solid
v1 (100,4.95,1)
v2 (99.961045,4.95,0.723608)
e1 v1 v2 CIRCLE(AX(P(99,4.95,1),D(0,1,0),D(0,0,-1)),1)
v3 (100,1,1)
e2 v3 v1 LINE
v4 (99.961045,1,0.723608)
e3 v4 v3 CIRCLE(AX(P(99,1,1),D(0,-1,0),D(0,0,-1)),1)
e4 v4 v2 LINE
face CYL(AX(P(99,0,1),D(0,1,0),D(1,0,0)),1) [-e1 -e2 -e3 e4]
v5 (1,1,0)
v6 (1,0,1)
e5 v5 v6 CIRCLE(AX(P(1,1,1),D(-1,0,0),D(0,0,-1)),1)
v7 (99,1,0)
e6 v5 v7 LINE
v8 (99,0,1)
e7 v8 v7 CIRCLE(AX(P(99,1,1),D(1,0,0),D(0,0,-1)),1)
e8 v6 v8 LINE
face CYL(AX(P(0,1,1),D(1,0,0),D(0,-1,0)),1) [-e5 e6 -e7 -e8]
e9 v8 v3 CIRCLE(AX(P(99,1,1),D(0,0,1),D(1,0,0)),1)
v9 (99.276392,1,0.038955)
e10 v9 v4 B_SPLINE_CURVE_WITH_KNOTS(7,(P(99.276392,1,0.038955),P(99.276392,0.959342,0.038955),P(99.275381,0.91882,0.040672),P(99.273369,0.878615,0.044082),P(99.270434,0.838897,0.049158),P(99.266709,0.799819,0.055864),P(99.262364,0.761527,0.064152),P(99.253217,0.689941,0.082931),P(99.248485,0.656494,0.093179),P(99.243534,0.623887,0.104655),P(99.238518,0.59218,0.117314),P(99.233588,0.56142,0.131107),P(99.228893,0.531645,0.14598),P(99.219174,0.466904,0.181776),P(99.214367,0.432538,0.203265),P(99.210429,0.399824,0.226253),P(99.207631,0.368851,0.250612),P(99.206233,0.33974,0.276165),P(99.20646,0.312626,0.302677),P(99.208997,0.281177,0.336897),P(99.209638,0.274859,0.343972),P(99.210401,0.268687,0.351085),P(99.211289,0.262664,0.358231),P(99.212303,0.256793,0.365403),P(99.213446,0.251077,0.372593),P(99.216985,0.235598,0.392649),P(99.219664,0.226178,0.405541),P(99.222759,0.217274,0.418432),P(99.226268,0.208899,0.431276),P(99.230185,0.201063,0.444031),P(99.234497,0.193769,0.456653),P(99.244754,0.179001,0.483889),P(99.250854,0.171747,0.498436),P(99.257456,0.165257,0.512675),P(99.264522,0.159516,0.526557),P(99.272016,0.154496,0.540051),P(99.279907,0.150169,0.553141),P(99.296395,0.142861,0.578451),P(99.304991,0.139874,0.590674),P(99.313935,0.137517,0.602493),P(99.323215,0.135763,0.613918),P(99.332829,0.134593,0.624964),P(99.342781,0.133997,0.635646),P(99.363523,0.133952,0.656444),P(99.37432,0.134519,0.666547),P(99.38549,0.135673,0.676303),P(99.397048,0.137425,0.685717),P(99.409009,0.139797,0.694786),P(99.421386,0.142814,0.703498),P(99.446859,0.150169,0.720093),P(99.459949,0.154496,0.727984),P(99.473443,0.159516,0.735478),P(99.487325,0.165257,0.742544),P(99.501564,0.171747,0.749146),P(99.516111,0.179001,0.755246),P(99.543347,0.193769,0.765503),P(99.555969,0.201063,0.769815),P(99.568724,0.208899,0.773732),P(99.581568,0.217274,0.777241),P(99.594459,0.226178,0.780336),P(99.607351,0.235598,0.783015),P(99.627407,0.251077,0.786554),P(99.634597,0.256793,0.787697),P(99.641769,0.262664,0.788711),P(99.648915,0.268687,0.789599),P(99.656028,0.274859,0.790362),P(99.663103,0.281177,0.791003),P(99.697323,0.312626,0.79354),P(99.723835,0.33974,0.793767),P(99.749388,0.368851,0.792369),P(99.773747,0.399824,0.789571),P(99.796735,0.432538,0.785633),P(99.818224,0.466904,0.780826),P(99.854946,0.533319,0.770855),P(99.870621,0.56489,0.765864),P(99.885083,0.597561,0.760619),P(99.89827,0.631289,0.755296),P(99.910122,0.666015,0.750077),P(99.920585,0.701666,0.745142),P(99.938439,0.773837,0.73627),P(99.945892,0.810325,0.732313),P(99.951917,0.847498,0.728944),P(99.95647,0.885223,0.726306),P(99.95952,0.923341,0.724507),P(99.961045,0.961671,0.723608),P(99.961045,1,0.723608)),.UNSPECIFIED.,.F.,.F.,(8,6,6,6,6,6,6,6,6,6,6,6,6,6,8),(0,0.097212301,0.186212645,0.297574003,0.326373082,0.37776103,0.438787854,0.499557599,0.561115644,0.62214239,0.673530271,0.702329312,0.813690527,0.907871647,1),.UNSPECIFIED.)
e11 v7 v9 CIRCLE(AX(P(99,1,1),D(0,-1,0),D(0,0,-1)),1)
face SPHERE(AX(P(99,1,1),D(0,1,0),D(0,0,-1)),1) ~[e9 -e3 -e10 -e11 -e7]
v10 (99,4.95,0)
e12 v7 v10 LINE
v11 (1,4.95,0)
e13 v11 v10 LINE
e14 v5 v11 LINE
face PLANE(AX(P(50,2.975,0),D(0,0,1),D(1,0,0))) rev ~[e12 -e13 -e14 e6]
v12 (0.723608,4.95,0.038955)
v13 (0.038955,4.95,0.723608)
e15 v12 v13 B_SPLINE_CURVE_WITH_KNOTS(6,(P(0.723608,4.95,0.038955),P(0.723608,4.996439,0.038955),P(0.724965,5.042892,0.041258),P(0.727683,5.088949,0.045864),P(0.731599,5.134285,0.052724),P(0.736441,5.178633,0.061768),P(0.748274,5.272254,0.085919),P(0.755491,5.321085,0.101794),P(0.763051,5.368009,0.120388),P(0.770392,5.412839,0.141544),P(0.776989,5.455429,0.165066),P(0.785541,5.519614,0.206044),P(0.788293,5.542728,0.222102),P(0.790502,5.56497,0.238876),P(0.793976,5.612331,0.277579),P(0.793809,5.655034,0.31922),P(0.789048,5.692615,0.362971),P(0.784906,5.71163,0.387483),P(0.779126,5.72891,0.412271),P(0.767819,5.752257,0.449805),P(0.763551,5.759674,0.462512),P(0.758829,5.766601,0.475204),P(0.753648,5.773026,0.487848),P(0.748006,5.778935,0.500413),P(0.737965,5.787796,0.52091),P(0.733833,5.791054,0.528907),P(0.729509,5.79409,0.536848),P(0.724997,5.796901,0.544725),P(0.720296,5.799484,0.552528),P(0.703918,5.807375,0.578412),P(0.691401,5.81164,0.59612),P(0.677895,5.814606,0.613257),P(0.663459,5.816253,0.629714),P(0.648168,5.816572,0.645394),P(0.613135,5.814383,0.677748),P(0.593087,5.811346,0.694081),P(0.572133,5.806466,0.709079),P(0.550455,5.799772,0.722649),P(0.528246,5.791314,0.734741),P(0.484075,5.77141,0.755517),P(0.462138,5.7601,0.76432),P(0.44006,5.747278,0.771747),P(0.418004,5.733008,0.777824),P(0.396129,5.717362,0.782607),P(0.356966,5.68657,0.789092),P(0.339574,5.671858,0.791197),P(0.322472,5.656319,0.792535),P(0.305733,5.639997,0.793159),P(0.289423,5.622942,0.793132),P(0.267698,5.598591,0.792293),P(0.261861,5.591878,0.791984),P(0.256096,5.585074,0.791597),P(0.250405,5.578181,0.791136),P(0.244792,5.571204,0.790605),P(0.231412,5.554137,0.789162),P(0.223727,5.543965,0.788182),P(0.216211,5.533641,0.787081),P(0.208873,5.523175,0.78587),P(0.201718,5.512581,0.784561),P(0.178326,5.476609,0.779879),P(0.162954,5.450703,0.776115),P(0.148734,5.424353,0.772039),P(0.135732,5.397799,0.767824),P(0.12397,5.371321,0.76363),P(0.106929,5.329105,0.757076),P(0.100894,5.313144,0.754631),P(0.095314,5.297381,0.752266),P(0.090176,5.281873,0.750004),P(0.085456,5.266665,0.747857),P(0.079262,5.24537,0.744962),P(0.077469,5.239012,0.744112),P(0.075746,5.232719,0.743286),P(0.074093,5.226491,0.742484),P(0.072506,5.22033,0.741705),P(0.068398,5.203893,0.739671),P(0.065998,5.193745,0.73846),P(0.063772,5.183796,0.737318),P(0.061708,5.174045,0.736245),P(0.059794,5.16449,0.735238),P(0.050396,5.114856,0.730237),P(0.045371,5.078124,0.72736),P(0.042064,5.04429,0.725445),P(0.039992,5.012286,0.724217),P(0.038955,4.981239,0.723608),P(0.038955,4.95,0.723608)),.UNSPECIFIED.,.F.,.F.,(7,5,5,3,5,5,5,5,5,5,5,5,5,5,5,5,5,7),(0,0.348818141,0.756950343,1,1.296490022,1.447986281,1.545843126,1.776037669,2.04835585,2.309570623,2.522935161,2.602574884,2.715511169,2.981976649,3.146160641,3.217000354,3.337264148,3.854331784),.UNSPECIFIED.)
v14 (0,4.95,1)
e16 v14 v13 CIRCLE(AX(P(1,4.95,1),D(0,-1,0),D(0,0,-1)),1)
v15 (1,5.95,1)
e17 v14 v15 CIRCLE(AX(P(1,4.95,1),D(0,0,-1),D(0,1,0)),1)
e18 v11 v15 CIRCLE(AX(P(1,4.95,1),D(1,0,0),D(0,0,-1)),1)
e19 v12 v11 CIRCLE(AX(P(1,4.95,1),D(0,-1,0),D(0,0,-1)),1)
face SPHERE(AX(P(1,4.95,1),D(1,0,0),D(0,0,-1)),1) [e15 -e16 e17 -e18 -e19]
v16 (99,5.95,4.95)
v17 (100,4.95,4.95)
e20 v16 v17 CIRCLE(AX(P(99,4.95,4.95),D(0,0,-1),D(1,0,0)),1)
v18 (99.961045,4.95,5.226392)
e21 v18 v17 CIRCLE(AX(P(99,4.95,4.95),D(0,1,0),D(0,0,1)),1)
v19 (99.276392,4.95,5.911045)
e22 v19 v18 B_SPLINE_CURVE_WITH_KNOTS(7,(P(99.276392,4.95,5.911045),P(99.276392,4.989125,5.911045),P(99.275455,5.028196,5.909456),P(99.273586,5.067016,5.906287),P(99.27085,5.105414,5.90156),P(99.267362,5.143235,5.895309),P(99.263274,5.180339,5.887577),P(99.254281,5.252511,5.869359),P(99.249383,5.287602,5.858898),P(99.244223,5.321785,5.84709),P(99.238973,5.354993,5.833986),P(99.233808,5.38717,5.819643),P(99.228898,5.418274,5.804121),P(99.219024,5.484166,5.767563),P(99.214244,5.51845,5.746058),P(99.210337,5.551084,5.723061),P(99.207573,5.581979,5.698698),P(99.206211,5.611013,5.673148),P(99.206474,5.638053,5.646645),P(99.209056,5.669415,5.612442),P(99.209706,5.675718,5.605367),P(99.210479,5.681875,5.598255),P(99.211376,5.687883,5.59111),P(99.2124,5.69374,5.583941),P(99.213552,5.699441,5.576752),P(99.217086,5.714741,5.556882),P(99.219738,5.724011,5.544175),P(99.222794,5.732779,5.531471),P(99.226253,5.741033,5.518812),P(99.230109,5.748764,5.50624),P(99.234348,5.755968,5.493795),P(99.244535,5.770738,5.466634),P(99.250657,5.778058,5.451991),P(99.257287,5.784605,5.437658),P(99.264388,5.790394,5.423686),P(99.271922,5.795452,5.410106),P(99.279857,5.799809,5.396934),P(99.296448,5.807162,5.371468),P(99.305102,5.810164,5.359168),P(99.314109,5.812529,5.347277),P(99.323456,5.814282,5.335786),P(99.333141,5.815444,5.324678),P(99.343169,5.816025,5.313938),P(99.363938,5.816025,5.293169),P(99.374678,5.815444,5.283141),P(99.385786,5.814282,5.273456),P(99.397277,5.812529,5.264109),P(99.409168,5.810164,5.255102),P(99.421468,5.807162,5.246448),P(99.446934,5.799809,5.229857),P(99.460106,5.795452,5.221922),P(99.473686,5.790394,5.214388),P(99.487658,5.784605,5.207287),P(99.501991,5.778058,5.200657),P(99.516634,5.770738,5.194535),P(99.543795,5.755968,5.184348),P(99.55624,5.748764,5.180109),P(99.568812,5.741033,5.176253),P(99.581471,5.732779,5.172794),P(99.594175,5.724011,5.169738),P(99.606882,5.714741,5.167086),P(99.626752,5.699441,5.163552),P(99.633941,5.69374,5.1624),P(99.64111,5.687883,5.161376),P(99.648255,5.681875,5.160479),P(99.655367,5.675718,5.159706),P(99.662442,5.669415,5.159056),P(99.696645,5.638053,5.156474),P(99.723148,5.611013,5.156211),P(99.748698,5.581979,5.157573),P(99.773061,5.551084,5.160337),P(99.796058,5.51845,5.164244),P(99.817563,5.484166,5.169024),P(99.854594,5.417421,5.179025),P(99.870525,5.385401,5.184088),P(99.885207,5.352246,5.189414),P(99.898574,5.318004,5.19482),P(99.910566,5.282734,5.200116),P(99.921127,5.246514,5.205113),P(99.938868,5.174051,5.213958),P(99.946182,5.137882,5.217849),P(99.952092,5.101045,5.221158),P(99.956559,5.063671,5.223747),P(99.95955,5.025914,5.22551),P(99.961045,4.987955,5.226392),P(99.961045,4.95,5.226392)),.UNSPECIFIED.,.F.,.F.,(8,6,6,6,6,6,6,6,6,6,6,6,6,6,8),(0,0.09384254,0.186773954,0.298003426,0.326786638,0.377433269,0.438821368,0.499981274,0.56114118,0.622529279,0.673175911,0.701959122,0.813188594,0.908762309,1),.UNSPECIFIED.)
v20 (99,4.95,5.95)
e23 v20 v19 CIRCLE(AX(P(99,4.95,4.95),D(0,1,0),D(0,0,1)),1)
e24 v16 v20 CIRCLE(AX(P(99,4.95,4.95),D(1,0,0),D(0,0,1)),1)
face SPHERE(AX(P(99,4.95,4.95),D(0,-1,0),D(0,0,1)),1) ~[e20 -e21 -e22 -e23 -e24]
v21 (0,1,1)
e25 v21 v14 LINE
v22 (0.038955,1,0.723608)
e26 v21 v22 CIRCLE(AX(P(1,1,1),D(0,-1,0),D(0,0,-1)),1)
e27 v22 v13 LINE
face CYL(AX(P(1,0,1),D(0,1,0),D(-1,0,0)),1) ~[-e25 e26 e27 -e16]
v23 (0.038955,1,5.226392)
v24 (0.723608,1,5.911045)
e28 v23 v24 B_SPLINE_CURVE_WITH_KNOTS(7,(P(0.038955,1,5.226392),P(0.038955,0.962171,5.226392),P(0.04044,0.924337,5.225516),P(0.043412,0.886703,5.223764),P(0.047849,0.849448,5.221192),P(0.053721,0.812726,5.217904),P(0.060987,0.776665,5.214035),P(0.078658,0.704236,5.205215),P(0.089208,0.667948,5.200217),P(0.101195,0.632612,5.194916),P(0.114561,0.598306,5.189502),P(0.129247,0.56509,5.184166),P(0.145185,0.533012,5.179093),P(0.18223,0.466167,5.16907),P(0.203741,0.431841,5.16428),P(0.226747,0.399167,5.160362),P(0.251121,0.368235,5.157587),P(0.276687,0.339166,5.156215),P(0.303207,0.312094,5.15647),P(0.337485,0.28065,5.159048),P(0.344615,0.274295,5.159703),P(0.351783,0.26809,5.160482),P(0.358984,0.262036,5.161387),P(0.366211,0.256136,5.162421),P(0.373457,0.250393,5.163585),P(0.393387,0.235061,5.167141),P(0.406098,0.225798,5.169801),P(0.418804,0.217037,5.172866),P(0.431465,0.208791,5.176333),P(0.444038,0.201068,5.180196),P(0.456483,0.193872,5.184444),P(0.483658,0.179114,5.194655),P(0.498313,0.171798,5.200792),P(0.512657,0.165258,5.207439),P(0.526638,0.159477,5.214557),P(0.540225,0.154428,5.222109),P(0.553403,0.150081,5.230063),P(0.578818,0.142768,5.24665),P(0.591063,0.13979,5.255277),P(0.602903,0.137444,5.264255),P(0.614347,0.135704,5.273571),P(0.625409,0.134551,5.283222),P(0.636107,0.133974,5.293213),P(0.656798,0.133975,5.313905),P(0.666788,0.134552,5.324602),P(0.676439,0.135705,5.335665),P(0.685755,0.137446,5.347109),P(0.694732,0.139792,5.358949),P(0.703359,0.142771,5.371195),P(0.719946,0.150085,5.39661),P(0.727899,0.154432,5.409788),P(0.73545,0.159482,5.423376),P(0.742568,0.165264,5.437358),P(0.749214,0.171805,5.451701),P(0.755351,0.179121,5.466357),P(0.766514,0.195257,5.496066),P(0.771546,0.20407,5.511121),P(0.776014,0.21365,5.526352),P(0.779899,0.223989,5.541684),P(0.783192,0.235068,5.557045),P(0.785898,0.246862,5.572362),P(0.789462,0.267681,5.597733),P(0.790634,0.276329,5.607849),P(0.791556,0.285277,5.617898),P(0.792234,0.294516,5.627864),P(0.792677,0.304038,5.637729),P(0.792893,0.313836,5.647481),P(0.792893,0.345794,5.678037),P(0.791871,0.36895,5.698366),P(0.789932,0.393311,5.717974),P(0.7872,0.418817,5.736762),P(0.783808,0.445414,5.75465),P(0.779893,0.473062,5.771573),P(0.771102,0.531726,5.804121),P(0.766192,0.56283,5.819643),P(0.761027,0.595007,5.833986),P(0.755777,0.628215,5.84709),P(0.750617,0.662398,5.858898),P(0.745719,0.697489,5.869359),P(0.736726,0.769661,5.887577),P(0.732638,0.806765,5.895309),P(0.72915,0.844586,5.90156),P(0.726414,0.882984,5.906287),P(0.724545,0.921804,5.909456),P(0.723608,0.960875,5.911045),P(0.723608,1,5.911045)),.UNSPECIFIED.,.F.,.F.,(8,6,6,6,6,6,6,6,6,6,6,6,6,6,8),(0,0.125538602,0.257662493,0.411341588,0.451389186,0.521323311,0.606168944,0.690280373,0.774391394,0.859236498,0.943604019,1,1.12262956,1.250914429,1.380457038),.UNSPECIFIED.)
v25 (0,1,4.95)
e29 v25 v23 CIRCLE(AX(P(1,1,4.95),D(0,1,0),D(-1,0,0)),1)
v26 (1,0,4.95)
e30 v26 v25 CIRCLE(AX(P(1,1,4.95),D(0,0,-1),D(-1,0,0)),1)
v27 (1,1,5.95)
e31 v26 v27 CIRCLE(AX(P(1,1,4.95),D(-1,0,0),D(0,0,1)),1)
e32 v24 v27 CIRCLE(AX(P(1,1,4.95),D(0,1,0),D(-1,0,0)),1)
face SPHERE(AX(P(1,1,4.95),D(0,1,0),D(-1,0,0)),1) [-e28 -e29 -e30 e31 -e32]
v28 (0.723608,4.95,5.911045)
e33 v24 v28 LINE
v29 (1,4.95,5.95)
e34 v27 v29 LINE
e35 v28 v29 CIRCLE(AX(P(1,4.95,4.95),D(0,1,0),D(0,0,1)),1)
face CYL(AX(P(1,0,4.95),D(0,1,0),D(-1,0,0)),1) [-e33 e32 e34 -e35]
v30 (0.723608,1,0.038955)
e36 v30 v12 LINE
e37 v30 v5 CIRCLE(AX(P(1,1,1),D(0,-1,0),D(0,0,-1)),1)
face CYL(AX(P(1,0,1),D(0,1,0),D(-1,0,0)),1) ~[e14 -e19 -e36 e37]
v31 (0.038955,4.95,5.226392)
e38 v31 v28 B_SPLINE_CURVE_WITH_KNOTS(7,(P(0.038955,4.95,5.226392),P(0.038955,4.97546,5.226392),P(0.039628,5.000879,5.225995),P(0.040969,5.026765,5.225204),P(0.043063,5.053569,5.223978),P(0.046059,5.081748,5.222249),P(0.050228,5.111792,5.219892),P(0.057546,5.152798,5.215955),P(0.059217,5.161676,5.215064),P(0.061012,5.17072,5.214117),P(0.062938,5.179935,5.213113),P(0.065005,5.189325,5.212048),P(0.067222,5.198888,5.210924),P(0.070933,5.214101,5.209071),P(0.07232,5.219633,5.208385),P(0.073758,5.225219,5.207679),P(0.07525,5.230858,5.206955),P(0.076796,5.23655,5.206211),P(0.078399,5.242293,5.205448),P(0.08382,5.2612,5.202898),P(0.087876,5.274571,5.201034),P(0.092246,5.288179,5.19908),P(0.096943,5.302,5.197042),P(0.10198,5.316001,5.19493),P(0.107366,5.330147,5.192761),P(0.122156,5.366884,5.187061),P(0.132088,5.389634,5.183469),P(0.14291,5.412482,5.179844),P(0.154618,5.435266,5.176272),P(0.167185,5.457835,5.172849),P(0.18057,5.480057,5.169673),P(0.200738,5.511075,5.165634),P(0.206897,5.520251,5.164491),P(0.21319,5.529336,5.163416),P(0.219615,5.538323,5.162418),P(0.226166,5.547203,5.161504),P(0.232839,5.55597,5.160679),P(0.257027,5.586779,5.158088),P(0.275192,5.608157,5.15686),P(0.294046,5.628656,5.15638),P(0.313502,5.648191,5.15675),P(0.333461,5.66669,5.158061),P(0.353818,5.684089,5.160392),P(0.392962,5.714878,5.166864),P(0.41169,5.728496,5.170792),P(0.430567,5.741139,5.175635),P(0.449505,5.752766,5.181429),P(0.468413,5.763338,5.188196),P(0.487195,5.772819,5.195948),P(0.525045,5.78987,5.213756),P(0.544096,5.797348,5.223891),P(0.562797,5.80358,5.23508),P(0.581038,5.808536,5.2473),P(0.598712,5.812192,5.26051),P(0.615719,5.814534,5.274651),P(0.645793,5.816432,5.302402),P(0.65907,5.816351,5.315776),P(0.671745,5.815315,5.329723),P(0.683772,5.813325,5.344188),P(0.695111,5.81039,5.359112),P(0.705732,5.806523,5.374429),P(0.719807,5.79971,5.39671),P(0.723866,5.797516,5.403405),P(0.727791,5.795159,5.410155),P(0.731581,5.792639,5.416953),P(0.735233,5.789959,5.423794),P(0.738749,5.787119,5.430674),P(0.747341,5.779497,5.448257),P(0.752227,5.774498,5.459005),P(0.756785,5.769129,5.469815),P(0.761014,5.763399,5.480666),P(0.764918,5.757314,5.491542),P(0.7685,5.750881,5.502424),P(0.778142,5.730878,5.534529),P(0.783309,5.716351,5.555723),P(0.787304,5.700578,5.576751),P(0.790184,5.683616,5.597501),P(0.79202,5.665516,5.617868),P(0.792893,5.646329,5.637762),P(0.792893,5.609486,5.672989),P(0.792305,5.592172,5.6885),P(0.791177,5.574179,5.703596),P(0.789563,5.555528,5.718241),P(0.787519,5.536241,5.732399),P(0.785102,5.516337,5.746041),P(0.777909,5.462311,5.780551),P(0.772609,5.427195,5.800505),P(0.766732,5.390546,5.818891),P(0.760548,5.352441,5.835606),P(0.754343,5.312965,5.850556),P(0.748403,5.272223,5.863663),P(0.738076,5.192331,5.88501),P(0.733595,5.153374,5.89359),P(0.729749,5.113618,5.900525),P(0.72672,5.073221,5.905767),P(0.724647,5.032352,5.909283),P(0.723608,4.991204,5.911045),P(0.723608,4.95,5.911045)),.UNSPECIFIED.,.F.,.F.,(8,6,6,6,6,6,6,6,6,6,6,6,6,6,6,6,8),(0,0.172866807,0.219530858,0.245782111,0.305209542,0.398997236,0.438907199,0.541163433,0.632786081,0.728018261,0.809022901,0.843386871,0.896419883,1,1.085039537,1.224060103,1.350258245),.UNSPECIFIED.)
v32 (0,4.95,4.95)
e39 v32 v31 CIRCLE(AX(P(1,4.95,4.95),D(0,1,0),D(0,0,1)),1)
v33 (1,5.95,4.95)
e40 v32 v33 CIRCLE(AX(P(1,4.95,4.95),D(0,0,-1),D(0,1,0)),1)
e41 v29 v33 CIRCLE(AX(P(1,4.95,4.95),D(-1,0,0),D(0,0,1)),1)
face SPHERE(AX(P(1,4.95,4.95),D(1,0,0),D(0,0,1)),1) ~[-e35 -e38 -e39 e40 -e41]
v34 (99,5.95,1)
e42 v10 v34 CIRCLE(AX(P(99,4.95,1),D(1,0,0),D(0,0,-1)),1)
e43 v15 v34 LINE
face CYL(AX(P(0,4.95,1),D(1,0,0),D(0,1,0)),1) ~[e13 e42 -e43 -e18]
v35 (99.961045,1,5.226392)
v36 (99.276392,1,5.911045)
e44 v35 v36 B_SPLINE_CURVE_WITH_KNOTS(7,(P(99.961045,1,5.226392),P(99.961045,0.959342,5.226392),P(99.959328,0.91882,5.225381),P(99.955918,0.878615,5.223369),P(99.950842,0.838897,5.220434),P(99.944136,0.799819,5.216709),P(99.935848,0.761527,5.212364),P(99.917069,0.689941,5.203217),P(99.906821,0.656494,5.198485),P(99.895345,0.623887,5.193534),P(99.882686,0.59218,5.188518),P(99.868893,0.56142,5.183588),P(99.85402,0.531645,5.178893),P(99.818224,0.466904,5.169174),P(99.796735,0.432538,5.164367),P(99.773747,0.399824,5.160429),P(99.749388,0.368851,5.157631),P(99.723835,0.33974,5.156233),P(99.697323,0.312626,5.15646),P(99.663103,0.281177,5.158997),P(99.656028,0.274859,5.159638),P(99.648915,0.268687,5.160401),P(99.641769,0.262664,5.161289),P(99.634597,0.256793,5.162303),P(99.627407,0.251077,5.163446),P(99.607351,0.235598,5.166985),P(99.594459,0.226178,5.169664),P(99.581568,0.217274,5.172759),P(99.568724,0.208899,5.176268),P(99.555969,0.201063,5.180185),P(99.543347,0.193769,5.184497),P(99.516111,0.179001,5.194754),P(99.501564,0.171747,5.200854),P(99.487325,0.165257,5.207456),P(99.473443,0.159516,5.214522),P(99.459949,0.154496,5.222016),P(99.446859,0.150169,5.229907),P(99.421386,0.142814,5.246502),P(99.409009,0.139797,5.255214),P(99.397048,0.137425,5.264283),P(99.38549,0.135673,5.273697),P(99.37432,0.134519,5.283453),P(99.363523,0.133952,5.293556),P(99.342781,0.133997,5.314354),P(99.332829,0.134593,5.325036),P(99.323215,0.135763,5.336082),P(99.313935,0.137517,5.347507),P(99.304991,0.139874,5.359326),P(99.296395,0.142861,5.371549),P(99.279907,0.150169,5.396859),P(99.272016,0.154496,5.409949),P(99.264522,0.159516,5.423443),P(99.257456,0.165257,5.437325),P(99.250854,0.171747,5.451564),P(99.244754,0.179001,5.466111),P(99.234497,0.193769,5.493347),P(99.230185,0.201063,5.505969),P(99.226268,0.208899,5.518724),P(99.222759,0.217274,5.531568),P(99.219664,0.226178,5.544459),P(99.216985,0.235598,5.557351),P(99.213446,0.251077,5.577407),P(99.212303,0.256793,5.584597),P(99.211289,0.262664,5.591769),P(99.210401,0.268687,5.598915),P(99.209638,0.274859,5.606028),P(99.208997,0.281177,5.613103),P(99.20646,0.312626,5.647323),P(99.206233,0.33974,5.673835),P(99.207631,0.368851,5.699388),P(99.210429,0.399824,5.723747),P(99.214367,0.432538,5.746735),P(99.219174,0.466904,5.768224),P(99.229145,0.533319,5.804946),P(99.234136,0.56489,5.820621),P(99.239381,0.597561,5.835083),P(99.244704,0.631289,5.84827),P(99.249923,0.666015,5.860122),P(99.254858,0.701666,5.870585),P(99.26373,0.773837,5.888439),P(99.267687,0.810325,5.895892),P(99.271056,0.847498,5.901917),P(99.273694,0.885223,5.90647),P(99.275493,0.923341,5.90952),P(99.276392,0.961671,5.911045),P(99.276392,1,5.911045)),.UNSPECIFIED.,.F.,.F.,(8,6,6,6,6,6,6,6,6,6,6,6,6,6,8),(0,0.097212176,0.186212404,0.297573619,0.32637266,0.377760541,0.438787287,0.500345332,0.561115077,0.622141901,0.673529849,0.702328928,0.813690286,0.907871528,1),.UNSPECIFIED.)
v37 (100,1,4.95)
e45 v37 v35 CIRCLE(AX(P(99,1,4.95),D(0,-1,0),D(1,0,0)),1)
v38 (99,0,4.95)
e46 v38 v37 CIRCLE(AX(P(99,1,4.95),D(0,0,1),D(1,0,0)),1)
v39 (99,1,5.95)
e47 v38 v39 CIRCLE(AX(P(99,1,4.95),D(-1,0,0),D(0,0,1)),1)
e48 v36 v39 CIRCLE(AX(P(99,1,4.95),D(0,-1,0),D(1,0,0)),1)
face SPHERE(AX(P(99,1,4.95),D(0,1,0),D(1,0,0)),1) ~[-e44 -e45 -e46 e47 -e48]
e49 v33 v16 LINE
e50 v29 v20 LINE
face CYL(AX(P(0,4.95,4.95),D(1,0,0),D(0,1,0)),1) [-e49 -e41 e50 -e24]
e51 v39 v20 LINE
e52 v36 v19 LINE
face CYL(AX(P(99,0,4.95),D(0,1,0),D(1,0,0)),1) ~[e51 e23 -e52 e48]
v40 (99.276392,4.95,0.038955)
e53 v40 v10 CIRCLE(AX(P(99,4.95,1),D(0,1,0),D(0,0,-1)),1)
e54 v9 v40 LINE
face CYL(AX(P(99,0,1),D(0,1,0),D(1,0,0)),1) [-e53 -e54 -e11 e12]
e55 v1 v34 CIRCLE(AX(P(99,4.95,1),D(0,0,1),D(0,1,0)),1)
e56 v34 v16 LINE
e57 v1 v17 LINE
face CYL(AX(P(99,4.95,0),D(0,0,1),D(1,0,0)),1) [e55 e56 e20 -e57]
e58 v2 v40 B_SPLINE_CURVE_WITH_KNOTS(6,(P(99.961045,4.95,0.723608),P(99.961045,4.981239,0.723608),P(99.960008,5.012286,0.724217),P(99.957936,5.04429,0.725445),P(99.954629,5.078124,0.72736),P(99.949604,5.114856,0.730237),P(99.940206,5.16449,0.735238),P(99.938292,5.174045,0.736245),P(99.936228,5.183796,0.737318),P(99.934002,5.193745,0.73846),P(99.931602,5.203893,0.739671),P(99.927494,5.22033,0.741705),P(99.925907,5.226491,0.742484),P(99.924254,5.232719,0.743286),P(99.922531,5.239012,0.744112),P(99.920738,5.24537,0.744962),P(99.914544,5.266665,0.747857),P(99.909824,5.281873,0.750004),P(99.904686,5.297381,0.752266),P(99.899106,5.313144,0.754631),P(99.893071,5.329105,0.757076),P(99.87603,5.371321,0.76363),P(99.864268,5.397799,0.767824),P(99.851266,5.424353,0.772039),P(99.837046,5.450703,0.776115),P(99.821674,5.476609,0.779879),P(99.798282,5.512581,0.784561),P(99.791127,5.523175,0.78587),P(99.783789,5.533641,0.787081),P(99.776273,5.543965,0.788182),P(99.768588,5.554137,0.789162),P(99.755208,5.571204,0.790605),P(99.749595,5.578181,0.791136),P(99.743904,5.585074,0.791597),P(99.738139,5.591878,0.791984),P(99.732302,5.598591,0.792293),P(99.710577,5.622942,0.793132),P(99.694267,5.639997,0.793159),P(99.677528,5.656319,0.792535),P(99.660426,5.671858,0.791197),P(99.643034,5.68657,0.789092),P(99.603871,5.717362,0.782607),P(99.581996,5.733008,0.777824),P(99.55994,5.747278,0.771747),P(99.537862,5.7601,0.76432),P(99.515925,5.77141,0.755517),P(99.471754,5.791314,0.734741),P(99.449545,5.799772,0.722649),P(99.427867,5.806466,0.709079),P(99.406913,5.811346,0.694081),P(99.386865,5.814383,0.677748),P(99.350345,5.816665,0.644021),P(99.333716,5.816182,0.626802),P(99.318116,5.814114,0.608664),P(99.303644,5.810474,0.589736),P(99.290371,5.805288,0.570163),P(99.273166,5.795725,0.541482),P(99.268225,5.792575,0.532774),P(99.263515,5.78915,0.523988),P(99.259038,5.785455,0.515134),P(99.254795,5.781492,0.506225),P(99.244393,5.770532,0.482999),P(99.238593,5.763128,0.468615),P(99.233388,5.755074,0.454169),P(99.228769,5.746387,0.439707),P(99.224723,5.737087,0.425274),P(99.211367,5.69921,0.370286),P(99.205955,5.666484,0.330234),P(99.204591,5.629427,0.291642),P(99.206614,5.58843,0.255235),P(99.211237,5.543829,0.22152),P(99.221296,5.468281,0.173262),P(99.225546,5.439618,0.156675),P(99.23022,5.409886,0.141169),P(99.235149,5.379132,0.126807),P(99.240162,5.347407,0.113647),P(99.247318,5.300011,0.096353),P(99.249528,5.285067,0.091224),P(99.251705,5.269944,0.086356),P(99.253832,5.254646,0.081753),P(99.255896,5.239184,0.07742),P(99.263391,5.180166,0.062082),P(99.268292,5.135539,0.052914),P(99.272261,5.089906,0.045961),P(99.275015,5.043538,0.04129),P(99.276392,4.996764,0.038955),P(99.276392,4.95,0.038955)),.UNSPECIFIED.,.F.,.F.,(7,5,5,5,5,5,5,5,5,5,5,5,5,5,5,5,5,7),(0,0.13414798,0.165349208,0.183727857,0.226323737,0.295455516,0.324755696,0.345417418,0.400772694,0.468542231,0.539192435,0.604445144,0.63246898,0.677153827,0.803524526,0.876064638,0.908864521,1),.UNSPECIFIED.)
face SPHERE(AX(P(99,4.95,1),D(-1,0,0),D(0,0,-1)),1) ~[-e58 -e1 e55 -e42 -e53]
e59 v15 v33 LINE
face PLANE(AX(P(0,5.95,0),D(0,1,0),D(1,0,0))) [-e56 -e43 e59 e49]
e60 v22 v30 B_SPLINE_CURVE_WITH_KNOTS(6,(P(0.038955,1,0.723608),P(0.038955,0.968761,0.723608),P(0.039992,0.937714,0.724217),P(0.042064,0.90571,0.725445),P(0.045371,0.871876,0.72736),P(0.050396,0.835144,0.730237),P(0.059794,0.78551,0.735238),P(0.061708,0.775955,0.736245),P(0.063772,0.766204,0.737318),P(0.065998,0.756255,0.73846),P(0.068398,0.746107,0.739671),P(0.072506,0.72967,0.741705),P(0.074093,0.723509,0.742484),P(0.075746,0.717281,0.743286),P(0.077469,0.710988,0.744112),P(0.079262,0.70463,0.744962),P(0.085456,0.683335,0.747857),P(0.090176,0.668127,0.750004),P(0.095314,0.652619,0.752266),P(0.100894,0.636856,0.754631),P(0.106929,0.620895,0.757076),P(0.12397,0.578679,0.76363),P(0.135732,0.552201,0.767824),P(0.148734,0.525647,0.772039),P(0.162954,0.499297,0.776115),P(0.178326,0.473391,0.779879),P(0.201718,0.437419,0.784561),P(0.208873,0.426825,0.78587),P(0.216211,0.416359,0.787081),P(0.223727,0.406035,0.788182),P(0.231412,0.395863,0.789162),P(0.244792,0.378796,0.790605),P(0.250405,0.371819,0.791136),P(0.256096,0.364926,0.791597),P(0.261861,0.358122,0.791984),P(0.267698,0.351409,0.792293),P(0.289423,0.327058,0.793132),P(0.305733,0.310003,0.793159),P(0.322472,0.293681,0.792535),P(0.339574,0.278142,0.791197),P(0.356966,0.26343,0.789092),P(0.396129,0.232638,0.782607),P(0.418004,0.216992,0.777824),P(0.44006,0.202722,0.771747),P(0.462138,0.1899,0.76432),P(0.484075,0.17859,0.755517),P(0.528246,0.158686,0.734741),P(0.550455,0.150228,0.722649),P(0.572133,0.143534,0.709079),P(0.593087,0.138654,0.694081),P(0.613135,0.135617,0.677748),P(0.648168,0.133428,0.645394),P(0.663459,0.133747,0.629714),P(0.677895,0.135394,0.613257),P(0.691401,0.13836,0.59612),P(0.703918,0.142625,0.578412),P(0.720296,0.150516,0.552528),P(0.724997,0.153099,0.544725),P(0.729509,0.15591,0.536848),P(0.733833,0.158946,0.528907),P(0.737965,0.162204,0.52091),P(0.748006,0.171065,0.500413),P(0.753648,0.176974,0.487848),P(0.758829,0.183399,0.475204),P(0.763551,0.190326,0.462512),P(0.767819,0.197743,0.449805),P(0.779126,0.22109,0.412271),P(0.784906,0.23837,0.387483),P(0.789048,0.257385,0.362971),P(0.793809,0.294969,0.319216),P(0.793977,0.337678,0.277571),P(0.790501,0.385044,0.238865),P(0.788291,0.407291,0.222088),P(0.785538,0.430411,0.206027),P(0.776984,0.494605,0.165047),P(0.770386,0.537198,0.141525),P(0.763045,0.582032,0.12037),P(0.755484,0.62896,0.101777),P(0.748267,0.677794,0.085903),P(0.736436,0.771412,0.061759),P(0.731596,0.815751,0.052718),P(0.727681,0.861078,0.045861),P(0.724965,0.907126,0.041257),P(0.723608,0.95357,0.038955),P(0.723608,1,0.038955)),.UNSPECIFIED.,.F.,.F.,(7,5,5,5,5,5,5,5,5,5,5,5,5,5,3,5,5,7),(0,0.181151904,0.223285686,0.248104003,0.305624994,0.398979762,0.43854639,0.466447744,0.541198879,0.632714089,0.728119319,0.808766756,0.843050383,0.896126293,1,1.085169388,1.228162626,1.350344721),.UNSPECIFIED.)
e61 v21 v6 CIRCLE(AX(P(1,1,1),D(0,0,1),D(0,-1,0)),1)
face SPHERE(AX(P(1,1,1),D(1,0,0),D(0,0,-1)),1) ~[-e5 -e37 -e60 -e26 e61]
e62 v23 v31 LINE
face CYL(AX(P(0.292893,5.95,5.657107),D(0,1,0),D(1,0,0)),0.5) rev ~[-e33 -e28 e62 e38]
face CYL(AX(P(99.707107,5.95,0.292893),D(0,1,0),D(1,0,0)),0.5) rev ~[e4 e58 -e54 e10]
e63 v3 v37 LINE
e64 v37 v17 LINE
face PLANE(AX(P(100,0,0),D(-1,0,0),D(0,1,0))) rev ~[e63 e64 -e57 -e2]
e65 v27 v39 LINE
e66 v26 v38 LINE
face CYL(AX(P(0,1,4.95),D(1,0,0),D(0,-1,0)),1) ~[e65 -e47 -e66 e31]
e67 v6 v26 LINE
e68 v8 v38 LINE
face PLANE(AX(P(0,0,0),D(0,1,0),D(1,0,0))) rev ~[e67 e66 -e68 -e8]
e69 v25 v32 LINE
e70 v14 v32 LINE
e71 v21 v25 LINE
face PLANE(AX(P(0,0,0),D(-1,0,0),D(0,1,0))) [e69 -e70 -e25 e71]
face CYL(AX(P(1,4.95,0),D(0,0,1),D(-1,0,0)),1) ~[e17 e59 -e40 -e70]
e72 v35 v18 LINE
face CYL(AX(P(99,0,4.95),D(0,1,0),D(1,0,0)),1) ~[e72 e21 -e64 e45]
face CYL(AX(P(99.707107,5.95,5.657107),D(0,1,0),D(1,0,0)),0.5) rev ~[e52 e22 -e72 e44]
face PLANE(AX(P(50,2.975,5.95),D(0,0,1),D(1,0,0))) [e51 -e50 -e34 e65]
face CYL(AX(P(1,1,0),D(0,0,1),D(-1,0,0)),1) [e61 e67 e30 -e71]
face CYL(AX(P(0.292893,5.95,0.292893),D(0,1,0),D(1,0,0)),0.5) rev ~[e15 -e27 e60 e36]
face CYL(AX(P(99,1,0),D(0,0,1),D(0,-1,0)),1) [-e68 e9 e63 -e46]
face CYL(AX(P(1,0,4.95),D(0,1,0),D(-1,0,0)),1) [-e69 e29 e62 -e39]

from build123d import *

# Parameters (mm, degrees)
SKETCH1_W           = 100
SKETCH1_H           = 5.95
BOSS_EXTRUDE1_DEPTH = 5.95
FILLET1_R           = 1
SKETCH2_R           = 0.5
CUT_EXTRUDE1_DEPTH  = 10


with BuildPart() as part:
    # Sketch1 → Boss-Extrude1 (new body)
    with BuildSketch(Plane.XY):
        with Locations((50, 2.975)):
            Rectangle(SKETCH1_W, SKETCH1_H)
    extrude(amount=BOSS_EXTRUDE1_DEPTH)

    # Fillet1
    fillet1_edges = [part.edges().sort_by_distance(p)[0] for p in [
        (100, 2.975, 5.95),
        (50, 5.95, 5.95),
        (0, 2.975, 5.95),
        (50, 5.95, 0),
        (100, 2.975, 0),
        (50, 0, 0),
        (0, 2.975, 0),
        (0, 5.95, 2.975),
        (100, 5.95, 2.975),
        (100, 0, 2.975),
        (0, 0, 2.975),
        (50, 0, 5.95),
    ]]
    fillet(fillet1_edges, radius=FILLET1_R)

    # Sketch2 → Cut-Extrude1 (cut)
    with BuildSketch(Plane(origin=(0, 5.95, 0), x_dir=(1, 0, 0), z_dir=(0, 1, 0))):
        with Locations((99.707106781, -0.292893219)):
            Circle(SKETCH2_R)
        with Locations((99.707106781, -5.657106781)):
            Circle(SKETCH2_R)
        with Locations((0.292893219, -0.292893219)):
            Circle(SKETCH2_R)
        with Locations((0.292893219, -5.657106781)):
            Circle(SKETCH2_R)
    extrude(amount=-CUT_EXTRUDE1_DEPTH, mode=Mode.SUBTRACT)


solid = part.part
